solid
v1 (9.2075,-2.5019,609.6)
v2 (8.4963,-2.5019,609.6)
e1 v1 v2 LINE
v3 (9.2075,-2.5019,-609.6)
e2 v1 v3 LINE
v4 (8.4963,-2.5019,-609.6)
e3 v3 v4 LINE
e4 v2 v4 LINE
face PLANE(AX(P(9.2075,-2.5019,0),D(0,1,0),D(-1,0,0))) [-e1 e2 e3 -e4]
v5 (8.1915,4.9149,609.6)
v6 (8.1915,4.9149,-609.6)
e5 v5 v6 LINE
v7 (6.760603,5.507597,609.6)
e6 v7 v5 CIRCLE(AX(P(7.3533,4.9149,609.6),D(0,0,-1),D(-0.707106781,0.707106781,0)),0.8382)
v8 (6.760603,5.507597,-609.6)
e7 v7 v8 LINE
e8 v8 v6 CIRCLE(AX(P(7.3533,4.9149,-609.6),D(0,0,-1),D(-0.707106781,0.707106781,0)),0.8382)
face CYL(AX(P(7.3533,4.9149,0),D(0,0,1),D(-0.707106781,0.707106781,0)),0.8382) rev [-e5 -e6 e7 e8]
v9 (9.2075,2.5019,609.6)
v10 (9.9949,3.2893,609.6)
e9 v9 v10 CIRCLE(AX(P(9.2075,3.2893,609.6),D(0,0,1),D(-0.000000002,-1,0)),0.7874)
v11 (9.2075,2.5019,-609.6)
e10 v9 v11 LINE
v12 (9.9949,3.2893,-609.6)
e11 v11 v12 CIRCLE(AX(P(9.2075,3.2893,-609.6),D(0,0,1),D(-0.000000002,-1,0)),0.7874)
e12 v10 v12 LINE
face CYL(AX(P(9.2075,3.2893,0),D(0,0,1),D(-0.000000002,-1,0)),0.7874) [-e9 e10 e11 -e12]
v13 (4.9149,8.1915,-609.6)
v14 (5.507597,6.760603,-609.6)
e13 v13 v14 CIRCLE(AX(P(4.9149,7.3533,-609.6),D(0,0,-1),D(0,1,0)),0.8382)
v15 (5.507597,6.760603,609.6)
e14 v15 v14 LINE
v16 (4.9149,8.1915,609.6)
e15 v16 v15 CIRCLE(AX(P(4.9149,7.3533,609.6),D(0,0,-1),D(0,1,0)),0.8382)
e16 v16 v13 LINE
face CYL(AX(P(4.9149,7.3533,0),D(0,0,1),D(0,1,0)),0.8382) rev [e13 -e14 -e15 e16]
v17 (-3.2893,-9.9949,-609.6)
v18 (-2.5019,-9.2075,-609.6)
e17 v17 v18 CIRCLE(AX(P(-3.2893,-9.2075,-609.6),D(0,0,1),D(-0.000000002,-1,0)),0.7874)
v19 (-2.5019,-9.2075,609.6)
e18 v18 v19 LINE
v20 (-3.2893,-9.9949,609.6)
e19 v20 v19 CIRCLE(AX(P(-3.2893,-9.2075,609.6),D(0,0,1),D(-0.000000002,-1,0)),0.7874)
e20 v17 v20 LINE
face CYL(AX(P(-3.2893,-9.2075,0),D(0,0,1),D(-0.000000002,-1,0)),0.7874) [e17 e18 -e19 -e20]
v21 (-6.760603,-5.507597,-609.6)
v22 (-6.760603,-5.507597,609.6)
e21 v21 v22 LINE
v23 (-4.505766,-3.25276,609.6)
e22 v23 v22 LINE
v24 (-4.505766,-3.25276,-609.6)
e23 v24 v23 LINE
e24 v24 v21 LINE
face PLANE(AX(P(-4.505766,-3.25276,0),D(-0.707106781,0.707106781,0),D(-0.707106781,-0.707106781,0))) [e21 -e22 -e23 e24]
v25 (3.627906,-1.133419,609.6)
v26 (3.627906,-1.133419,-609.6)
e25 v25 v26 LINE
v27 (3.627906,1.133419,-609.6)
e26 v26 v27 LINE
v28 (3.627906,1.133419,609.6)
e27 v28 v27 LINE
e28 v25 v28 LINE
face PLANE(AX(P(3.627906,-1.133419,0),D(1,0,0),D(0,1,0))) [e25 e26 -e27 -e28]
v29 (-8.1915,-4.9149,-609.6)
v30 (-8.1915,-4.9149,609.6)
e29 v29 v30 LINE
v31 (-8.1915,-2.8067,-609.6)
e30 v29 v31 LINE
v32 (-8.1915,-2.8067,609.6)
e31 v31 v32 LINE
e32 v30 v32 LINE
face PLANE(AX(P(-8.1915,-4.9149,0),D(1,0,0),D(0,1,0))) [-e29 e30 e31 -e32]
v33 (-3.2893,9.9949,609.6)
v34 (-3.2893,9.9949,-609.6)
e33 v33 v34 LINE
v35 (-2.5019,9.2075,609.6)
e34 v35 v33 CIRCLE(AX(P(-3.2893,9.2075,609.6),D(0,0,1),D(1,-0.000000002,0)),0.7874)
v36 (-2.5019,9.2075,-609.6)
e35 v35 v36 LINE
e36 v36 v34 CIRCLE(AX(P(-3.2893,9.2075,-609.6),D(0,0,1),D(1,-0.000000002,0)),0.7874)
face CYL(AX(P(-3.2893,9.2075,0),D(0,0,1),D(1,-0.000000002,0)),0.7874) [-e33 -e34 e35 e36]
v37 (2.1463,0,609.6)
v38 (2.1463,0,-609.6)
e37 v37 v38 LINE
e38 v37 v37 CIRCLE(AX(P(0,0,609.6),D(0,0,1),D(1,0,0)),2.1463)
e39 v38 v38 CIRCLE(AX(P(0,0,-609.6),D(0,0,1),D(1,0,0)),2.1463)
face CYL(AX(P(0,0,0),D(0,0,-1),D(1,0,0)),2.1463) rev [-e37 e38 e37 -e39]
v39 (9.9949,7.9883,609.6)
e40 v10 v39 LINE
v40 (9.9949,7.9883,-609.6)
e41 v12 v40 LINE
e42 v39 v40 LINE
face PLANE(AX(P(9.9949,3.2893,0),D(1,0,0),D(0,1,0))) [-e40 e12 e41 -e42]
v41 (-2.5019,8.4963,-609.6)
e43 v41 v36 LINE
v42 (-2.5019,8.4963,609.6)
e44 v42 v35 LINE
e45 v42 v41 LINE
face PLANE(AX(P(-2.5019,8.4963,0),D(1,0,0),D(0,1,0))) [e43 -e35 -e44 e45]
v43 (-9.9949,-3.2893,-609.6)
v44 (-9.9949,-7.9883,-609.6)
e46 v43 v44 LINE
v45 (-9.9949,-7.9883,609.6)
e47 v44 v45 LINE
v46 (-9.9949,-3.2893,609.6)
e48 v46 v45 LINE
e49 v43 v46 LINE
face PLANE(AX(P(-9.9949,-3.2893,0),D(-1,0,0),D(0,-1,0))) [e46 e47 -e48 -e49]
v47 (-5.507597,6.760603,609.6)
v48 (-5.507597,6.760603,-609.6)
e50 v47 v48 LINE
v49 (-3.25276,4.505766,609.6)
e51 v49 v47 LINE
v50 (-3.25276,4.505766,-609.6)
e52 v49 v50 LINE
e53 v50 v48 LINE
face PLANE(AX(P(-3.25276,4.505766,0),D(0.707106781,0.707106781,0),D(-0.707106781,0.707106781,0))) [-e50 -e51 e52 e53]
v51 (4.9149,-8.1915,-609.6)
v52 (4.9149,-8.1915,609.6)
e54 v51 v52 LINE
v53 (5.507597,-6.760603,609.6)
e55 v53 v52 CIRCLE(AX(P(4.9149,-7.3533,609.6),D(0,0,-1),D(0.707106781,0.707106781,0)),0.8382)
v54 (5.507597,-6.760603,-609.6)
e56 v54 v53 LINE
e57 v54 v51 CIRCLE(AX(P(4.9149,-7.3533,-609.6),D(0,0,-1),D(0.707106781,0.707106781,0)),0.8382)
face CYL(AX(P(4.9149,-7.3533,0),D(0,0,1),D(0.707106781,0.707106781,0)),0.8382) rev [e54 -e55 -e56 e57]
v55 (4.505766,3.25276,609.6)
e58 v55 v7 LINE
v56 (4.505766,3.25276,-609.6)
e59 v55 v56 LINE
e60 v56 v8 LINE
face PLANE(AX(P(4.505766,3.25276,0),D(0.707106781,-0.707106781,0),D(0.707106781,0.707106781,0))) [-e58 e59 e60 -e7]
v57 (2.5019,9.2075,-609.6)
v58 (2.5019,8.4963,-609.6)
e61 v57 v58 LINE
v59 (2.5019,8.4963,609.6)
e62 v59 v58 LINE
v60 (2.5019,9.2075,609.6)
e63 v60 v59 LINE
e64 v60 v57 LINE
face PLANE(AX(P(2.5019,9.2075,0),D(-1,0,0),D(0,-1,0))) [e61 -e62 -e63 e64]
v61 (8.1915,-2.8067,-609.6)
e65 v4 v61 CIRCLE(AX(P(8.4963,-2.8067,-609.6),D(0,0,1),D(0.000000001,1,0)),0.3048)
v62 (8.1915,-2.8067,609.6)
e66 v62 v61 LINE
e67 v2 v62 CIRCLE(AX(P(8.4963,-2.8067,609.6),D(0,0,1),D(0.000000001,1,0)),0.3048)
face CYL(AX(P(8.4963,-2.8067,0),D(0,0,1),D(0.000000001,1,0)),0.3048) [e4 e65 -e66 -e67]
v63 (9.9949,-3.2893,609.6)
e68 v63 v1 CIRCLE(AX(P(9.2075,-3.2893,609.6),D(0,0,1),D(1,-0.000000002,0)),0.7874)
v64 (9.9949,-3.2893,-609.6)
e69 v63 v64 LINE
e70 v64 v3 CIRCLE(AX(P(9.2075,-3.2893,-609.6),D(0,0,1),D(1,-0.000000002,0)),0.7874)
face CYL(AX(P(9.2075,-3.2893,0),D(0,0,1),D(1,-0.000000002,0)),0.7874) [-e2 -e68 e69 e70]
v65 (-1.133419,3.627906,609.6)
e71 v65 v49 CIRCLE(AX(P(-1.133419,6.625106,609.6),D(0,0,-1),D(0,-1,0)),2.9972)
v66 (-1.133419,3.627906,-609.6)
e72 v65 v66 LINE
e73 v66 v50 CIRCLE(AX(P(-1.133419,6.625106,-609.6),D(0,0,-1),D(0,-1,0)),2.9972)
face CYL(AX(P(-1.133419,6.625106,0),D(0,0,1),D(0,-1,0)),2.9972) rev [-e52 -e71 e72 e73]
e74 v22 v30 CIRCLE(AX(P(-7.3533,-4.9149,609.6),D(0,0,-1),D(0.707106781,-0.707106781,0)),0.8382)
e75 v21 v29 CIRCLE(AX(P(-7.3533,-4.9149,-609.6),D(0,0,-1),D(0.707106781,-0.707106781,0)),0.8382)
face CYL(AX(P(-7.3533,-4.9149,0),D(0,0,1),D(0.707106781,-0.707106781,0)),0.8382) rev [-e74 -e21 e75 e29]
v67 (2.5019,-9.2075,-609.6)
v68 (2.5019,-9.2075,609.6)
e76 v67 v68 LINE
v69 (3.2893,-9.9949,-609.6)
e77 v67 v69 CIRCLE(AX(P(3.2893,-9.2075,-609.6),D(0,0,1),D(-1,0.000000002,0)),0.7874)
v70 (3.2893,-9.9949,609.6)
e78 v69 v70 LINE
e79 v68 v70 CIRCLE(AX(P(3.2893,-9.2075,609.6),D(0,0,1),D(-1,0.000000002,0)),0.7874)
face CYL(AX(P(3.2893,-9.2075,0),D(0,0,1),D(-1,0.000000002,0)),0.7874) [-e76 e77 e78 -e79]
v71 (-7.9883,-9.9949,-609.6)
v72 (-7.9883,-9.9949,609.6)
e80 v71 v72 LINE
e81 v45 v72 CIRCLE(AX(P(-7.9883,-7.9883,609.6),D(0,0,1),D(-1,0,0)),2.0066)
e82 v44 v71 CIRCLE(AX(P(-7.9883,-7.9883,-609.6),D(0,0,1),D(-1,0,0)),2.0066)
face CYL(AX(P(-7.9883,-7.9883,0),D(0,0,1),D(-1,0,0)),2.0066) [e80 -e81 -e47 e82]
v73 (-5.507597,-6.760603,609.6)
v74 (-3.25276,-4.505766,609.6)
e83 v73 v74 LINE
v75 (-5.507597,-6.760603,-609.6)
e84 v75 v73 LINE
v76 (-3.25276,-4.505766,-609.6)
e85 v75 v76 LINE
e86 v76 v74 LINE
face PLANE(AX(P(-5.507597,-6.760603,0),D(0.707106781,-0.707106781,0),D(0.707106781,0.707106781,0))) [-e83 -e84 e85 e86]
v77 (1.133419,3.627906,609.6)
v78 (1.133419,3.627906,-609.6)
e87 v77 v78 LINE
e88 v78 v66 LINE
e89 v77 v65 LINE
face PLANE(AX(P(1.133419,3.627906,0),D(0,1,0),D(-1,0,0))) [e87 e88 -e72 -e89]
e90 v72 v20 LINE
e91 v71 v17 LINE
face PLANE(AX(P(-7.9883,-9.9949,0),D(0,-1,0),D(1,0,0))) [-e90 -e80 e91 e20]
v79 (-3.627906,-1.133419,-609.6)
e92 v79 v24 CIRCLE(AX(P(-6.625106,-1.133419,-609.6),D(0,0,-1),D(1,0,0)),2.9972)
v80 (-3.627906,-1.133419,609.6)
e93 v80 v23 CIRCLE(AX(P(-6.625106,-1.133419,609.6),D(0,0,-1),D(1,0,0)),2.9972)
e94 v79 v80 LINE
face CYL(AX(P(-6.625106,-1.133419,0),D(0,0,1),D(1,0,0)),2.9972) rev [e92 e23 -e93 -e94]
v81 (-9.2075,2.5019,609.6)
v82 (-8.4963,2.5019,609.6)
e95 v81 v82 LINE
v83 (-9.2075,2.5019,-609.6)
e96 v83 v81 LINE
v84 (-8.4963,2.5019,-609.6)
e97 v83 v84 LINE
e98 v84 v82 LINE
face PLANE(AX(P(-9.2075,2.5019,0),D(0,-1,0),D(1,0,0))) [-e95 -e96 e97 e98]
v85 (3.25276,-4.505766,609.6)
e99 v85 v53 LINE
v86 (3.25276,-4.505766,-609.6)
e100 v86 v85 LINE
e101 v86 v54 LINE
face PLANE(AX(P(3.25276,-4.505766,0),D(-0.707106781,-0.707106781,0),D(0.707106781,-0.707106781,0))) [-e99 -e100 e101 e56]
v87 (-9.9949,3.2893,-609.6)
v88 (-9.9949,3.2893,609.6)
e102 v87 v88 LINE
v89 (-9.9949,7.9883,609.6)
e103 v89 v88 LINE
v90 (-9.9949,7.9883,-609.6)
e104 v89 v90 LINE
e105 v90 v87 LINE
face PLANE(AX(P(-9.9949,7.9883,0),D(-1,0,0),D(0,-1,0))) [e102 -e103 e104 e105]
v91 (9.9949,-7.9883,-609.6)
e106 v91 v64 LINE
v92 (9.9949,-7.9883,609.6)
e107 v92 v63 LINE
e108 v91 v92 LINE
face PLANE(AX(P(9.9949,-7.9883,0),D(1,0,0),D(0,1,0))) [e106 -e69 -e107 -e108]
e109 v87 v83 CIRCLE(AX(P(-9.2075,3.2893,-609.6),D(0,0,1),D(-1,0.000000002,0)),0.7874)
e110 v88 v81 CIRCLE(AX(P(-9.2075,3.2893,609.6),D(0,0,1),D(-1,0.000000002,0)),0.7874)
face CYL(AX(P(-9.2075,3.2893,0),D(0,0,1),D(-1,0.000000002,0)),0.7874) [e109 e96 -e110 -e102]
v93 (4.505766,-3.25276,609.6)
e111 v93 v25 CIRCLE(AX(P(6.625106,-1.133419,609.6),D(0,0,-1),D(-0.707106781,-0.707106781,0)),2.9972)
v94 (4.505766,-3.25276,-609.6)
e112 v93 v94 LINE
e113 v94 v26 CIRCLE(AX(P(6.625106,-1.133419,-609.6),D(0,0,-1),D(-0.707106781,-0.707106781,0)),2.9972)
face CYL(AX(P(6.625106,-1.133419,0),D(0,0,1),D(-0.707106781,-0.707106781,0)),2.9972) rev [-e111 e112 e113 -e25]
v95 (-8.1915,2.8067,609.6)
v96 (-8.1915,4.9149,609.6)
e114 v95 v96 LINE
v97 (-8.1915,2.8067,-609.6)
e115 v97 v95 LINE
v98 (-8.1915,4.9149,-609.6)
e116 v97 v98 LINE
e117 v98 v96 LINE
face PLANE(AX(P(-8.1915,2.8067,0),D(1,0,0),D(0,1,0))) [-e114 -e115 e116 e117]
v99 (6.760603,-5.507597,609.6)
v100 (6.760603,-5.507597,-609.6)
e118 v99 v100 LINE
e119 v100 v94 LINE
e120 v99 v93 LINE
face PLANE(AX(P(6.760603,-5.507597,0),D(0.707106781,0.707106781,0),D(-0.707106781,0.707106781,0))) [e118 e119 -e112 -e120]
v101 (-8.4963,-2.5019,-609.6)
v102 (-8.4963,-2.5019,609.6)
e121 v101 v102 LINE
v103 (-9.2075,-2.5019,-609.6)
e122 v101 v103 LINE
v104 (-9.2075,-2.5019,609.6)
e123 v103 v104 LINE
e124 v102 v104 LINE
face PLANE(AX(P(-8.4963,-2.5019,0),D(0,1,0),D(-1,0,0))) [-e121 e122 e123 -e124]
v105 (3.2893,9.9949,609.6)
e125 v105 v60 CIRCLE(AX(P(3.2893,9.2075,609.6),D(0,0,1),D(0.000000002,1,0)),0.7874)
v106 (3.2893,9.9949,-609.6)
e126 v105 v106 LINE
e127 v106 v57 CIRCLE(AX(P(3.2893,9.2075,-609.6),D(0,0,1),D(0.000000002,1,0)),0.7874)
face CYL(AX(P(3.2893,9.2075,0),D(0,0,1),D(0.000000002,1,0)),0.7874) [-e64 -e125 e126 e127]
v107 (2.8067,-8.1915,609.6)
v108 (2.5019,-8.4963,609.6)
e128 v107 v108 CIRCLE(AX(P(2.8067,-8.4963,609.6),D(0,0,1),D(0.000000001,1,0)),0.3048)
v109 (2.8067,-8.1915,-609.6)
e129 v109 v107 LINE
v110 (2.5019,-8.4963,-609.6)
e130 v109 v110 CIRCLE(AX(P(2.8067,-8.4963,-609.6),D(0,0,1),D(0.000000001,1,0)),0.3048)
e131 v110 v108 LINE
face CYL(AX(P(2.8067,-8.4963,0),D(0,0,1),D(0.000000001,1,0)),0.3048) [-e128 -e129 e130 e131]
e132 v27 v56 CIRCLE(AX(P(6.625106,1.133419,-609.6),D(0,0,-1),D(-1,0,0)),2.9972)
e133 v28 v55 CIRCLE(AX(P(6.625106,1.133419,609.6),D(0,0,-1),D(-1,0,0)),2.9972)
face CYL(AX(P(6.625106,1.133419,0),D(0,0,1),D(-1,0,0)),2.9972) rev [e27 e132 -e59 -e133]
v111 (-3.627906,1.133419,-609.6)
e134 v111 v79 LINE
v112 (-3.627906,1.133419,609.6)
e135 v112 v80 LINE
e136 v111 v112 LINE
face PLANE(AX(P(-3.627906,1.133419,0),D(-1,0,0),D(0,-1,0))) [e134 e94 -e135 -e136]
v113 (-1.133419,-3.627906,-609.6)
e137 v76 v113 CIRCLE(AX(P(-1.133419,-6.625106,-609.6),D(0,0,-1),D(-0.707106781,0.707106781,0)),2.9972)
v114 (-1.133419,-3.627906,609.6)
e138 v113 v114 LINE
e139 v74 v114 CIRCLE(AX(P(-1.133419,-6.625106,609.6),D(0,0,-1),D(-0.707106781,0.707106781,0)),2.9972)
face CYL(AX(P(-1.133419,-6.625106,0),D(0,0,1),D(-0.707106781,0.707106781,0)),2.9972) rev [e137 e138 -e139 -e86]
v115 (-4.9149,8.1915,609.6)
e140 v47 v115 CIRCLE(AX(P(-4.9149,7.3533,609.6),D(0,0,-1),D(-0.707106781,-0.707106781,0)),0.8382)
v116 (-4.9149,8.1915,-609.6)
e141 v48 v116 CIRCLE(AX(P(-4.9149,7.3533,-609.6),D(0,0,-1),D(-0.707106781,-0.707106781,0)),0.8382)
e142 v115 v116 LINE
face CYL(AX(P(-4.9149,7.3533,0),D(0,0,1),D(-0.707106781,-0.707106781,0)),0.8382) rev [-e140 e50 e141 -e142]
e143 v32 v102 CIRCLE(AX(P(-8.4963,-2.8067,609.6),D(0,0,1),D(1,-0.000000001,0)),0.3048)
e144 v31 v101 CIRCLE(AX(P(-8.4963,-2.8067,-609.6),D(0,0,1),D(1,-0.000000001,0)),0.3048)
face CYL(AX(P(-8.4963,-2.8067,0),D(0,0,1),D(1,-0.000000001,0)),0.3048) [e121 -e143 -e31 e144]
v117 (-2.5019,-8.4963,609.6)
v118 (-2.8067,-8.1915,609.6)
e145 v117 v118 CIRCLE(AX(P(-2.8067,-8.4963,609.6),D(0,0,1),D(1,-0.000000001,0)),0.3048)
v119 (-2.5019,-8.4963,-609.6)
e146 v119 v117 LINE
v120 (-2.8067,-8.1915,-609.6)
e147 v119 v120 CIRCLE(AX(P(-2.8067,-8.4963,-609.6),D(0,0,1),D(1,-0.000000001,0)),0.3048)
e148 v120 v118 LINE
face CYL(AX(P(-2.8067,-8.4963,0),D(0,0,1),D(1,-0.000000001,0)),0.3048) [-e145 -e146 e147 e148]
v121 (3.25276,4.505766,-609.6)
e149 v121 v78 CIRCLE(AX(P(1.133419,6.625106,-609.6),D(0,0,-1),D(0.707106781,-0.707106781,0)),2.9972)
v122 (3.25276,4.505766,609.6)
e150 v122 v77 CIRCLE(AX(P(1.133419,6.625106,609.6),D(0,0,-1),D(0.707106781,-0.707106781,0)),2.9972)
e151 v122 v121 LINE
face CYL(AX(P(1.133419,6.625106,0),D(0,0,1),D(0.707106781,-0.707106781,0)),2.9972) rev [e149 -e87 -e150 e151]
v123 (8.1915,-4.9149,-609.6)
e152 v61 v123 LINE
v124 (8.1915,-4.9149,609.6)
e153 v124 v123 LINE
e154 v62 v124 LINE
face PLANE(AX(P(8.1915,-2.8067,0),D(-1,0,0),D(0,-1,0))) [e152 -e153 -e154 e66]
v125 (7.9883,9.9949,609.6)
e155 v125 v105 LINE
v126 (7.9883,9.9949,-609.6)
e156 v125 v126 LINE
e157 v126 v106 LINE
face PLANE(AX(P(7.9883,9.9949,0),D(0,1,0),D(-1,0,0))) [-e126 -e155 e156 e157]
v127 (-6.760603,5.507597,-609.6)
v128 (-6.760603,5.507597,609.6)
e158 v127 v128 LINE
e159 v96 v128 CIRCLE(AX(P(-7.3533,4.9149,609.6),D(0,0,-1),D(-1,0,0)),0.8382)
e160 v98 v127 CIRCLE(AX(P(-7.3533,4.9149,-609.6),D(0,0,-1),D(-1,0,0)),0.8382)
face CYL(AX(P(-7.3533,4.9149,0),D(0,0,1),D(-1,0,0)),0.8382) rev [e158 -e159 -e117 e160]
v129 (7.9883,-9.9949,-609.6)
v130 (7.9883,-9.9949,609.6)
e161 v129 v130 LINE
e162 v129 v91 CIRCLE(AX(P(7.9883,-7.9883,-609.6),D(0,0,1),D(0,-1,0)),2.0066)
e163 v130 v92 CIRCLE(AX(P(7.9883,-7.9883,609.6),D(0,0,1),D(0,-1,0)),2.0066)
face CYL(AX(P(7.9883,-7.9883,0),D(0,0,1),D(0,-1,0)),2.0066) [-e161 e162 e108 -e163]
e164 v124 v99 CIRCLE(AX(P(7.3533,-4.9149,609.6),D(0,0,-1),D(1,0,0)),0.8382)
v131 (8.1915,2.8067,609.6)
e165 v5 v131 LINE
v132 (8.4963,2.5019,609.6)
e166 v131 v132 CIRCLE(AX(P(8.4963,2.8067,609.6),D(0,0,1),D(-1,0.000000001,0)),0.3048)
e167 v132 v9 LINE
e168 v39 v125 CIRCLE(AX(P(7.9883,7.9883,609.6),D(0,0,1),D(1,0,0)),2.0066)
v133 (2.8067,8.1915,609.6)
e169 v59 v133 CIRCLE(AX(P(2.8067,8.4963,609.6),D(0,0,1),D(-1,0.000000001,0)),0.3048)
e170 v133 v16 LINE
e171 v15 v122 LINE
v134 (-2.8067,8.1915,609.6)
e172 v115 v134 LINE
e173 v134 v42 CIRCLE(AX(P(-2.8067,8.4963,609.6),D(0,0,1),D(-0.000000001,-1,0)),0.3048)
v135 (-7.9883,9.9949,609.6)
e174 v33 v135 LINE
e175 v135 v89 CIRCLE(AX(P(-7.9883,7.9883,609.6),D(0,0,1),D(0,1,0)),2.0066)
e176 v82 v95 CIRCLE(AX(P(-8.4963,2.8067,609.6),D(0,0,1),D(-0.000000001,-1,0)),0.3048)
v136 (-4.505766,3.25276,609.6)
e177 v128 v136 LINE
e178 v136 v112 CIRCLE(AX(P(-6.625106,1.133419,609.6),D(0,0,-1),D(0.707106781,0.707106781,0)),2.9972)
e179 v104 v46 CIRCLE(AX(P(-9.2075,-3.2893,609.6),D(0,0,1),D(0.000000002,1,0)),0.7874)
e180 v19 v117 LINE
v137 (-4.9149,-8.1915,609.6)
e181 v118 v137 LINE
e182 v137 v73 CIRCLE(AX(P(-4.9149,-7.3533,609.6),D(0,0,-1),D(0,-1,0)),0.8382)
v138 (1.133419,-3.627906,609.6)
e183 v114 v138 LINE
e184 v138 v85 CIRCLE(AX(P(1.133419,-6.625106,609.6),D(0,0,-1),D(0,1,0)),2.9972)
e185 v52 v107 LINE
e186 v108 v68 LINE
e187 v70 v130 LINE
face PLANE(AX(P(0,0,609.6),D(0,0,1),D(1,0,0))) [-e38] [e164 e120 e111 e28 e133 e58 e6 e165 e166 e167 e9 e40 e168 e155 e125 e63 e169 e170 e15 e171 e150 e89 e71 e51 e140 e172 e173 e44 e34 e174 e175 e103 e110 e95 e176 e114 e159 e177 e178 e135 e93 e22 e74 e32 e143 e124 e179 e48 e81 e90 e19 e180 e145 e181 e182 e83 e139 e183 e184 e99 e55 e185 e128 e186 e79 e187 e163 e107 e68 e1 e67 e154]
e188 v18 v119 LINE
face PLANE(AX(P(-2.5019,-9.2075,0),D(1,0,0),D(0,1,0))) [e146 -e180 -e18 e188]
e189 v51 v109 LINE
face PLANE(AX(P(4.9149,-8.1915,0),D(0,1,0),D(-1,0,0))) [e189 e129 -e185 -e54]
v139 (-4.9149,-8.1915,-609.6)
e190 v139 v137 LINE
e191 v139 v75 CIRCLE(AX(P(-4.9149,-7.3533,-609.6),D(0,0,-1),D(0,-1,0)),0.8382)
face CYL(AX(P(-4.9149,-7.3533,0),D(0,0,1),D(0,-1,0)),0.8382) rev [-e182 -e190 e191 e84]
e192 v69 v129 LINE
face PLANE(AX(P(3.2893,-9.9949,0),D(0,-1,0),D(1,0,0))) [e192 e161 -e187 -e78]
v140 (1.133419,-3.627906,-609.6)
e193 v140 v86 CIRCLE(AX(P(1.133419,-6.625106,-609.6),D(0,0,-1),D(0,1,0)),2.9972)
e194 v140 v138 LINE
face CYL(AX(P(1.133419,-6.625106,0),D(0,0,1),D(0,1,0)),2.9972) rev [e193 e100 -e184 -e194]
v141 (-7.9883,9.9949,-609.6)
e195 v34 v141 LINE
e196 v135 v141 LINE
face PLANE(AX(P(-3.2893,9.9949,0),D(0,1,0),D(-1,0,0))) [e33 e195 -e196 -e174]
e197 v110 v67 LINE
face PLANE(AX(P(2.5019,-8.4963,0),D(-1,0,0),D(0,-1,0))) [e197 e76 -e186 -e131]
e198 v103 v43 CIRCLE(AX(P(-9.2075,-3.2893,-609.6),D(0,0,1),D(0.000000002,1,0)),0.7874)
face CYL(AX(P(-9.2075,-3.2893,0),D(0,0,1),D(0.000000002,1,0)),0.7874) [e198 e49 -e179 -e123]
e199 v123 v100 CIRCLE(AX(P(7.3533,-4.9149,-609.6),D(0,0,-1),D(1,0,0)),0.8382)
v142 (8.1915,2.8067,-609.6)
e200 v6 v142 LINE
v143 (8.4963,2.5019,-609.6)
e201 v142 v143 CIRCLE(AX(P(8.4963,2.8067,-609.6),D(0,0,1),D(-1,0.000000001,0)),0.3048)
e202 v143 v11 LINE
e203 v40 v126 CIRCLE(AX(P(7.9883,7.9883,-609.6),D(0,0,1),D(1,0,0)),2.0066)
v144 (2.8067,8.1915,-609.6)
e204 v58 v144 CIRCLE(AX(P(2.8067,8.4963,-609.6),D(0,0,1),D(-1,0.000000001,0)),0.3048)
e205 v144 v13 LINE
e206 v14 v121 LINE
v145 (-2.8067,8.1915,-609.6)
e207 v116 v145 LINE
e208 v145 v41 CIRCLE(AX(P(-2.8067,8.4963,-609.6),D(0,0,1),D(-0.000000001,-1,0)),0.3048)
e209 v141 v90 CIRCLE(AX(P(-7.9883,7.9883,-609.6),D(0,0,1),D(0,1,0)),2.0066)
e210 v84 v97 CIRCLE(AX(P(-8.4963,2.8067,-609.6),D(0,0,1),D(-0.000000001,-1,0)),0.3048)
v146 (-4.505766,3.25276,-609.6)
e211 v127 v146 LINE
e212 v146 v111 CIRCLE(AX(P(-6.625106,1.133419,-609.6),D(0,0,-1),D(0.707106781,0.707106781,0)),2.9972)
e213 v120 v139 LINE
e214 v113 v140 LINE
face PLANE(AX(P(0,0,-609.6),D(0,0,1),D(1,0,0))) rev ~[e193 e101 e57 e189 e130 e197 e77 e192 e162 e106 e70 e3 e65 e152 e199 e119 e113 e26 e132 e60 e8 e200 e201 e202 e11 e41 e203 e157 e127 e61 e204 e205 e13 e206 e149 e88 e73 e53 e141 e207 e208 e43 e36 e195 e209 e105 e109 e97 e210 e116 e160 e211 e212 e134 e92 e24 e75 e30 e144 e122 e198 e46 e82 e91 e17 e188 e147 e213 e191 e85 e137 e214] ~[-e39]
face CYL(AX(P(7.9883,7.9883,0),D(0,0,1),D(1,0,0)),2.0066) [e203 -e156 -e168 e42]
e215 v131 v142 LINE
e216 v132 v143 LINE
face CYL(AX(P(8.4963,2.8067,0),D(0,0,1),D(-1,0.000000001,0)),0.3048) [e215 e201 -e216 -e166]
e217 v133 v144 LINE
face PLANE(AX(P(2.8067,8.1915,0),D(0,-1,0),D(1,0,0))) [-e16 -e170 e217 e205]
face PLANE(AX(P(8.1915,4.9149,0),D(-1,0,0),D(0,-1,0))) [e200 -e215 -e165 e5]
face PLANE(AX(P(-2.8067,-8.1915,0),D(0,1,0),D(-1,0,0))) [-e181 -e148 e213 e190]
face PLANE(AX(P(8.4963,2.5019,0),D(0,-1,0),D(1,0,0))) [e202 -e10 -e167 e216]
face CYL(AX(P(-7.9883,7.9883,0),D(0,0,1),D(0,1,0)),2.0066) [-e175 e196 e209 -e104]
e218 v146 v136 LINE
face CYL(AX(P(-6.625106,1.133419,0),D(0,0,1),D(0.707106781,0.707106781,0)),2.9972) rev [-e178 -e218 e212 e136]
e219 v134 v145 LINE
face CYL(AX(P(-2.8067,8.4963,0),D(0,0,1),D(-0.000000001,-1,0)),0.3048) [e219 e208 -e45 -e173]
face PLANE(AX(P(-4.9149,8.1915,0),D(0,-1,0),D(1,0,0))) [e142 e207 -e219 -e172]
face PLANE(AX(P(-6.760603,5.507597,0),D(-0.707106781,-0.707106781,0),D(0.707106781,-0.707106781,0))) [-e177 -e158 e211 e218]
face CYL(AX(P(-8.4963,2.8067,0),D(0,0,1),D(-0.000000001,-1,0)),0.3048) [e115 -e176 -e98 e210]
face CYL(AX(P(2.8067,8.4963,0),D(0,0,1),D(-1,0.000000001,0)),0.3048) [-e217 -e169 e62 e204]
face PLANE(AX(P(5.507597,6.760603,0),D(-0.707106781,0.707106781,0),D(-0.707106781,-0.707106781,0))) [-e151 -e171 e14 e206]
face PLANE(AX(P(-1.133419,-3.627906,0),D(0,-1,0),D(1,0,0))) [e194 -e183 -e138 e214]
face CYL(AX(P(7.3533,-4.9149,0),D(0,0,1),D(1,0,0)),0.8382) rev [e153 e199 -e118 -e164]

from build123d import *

# Parameters (mm, degrees)
SKETCH1_R           = 2.1463
BOSS_EXTRUDE1_DEPTH = 609.6


with BuildPart() as part:
    # Sketch1 → Boss-Extrude1 (new, symmetric)
    with BuildSketch(Plane.XY):
        with BuildLine():
            Line((-9.9949, 7.9883), (-9.9949, 3.2893))
            ThreePointArc((-9.9949, 3.2893), (-9.76427588, 2.73252412), (-9.2075, 2.5019))
            Line((-9.2075, 2.5019), (-8.4963, 2.5019))
            ThreePointArc((-8.4963, 2.5019), (-8.280773853, 2.591173853), (-8.1915, 2.8067))
            Line((-8.1915, 2.8067), (-8.1915, 4.9149))
            ThreePointArc((-8.1915, 4.9149), (-7.674065253, 5.689295824), (-6.760603096, 5.507596904))
            Line((-6.760603096, 5.507596904), (-4.505765747, 3.252759555))
            ThreePointArc((-4.505765747, 3.252759555), (-3.856054457, 2.280397894), (-3.627906192, 1.133419111))
            Line((-3.627906192, 1.133419111), (-3.627906192, -1.133419111))
            ThreePointArc((-3.627906192, -1.133419111), (-3.856054457, -2.280397894), (-4.505765747, -3.252759555))
            Line((-4.505765747, -3.252759555), (-6.760603096, -5.507596904))
            ThreePointArc((-6.760603096, -5.507596904), (-7.674065253, -5.689295824), (-8.1915, -4.9149))
            Line((-8.1915, -4.9149), (-8.1915, -2.8067))
            ThreePointArc((-8.1915, -2.8067), (-8.280773853, -2.591173853), (-8.4963, -2.5019))
            Line((-8.4963, -2.5019), (-9.2075, -2.5019))
            ThreePointArc((-9.2075, -2.5019), (-9.76427588, -2.73252412), (-9.9949, -3.2893))
            Line((-9.9949, -3.2893), (-9.9949, -7.9883))
            ThreePointArc((-9.9949, -7.9883), (-9.407180467, -9.407180467), (-7.9883, -9.9949))
            Line((-7.9883, -9.9949), (-3.2893, -9.9949))
            ThreePointArc((-3.2893, -9.9949), (-2.73252412, -9.76427588), (-2.5019, -9.2075))
            Line((-2.5019, -9.2075), (-2.5019, -8.4963))
            ThreePointArc((-2.5019, -8.4963), (-2.591173853, -8.280773853), (-2.8067, -8.1915))
            Line((-2.8067, -8.1915), (-4.9149, -8.1915))
            ThreePointArc((-4.9149, -8.1915), (-5.689295824, -7.674065253), (-5.507596904, -6.760603096))
            Line((-5.507596904, -6.760603096), (-3.252759555, -4.505765747))
            ThreePointArc((-3.252759555, -4.505765747), (-2.280397894, -3.856054457), (-1.133419111, -3.627906192))
            Line((-1.133419111, -3.627906192), (1.133419111, -3.627906192))
            ThreePointArc((1.133419111, -3.627906192), (2.280397894, -3.856054457), (3.252759555, -4.505765747))
            Line((3.252759555, -4.505765747), (5.507596904, -6.760603096))
            ThreePointArc((5.507596904, -6.760603096), (5.689295824, -7.674065253), (4.9149, -8.1915))
            Line((4.9149, -8.1915), (2.8067, -8.1915))
            ThreePointArc((2.8067, -8.1915), (2.591173853, -8.280773853), (2.5019, -8.4963))
            Line((2.5019, -8.4963), (2.5019, -9.2075))
            ThreePointArc((2.5019, -9.2075), (2.73252412, -9.76427588), (3.2893, -9.9949))
            Line((3.2893, -9.9949), (7.9883, -9.9949))
            ThreePointArc((7.9883, -9.9949), (9.407180467, -9.407180467), (9.9949, -7.9883))
            Line((9.9949, -7.9883), (9.9949, -3.2893))
            ThreePointArc((9.9949, -3.2893), (9.76427588, -2.73252412), (9.2075, -2.5019))
            Line((9.2075, -2.5019), (8.4963, -2.5019))
            ThreePointArc((8.4963, -2.5019), (8.280773853, -2.591173853), (8.1915, -2.8067))
            Line((8.1915, -2.8067), (8.1915, -4.9149))
            ThreePointArc((8.1915, -4.9149), (7.674065253, -5.689295824), (6.760603096, -5.507596904))
            Line((6.760603096, -5.507596904), (4.505765747, -3.252759555))
            ThreePointArc((4.505765747, -3.252759555), (3.856054457, -2.280397894), (3.627906192, -1.133419111))
            Line((3.627906192, -1.133419111), (3.627906192, 1.133419111))
            ThreePointArc((3.627906192, 1.133419111), (3.856054457, 2.280397894), (4.505765747, 3.252759555))
            Line((4.505765747, 3.252759555), (6.760603096, 5.507596904))
            ThreePointArc((6.760603096, 5.507596904), (7.674065253, 5.689295824), (8.1915, 4.9149))
            Line((8.1915, 4.9149), (8.1915, 2.8067))
            ThreePointArc((8.1915, 2.8067), (8.280773853, 2.591173853), (8.4963, 2.5019))
            Line((8.4963, 2.5019), (9.2075, 2.5019))
            ThreePointArc((9.2075, 2.5019), (9.76427588, 2.73252412), (9.9949, 3.2893))
            Line((9.9949, 3.2893), (9.9949, 7.9883))
            ThreePointArc((9.9949, 7.9883), (9.407180467, 9.407180467), (7.9883, 9.9949))
            Line((7.9883, 9.9949), (3.2893, 9.9949))
            ThreePointArc((3.2893, 9.9949), (2.73252412, 9.76427588), (2.5019, 9.2075))
            Line((2.5019, 9.2075), (2.5019, 8.4963))
            ThreePointArc((2.5019, 8.4963), (2.591173853, 8.280773853), (2.8067, 8.1915))
            Line((2.8067, 8.1915), (4.9149, 8.1915))
            ThreePointArc((4.9149, 8.1915), (5.689295824, 7.674065253), (5.507596904, 6.760603096))
            Line((5.507596904, 6.760603096), (3.252759555, 4.505765747))
            ThreePointArc((3.252759555, 4.505765747), (2.280397894, 3.856054457), (1.133419111, 3.627906192))
            Line((1.133419111, 3.627906192), (-1.133419111, 3.627906192))
            ThreePointArc((-1.133419111, 3.627906192), (-2.280397894, 3.856054457), (-3.252759555, 4.505765747))
            Line((-3.252759555, 4.505765747), (-5.507596904, 6.760603096))
            ThreePointArc((-5.507596904, 6.760603096), (-5.689295824, 7.674065253), (-4.9149, 8.1915))
            Line((-4.9149, 8.1915), (-2.8067, 8.1915))
            ThreePointArc((-2.8067, 8.1915), (-2.591173853, 8.280773853), (-2.5019, 8.4963))
            Line((-2.5019, 8.4963), (-2.5019, 9.2075))
            ThreePointArc((-2.5019, 9.2075), (-2.73252412, 9.76427588), (-3.2893, 9.9949))
            Line((-3.2893, 9.9949), (-7.9883, 9.9949))
            ThreePointArc((-7.9883, 9.9949), (-9.407180467, 9.407180467), (-9.9949, 7.9883))
        make_face()
        Circle(SKETCH1_R, mode=Mode.SUBTRACT)
    extrude(amount=BOSS_EXTRUDE1_DEPTH, both=True)


solid = part.part
